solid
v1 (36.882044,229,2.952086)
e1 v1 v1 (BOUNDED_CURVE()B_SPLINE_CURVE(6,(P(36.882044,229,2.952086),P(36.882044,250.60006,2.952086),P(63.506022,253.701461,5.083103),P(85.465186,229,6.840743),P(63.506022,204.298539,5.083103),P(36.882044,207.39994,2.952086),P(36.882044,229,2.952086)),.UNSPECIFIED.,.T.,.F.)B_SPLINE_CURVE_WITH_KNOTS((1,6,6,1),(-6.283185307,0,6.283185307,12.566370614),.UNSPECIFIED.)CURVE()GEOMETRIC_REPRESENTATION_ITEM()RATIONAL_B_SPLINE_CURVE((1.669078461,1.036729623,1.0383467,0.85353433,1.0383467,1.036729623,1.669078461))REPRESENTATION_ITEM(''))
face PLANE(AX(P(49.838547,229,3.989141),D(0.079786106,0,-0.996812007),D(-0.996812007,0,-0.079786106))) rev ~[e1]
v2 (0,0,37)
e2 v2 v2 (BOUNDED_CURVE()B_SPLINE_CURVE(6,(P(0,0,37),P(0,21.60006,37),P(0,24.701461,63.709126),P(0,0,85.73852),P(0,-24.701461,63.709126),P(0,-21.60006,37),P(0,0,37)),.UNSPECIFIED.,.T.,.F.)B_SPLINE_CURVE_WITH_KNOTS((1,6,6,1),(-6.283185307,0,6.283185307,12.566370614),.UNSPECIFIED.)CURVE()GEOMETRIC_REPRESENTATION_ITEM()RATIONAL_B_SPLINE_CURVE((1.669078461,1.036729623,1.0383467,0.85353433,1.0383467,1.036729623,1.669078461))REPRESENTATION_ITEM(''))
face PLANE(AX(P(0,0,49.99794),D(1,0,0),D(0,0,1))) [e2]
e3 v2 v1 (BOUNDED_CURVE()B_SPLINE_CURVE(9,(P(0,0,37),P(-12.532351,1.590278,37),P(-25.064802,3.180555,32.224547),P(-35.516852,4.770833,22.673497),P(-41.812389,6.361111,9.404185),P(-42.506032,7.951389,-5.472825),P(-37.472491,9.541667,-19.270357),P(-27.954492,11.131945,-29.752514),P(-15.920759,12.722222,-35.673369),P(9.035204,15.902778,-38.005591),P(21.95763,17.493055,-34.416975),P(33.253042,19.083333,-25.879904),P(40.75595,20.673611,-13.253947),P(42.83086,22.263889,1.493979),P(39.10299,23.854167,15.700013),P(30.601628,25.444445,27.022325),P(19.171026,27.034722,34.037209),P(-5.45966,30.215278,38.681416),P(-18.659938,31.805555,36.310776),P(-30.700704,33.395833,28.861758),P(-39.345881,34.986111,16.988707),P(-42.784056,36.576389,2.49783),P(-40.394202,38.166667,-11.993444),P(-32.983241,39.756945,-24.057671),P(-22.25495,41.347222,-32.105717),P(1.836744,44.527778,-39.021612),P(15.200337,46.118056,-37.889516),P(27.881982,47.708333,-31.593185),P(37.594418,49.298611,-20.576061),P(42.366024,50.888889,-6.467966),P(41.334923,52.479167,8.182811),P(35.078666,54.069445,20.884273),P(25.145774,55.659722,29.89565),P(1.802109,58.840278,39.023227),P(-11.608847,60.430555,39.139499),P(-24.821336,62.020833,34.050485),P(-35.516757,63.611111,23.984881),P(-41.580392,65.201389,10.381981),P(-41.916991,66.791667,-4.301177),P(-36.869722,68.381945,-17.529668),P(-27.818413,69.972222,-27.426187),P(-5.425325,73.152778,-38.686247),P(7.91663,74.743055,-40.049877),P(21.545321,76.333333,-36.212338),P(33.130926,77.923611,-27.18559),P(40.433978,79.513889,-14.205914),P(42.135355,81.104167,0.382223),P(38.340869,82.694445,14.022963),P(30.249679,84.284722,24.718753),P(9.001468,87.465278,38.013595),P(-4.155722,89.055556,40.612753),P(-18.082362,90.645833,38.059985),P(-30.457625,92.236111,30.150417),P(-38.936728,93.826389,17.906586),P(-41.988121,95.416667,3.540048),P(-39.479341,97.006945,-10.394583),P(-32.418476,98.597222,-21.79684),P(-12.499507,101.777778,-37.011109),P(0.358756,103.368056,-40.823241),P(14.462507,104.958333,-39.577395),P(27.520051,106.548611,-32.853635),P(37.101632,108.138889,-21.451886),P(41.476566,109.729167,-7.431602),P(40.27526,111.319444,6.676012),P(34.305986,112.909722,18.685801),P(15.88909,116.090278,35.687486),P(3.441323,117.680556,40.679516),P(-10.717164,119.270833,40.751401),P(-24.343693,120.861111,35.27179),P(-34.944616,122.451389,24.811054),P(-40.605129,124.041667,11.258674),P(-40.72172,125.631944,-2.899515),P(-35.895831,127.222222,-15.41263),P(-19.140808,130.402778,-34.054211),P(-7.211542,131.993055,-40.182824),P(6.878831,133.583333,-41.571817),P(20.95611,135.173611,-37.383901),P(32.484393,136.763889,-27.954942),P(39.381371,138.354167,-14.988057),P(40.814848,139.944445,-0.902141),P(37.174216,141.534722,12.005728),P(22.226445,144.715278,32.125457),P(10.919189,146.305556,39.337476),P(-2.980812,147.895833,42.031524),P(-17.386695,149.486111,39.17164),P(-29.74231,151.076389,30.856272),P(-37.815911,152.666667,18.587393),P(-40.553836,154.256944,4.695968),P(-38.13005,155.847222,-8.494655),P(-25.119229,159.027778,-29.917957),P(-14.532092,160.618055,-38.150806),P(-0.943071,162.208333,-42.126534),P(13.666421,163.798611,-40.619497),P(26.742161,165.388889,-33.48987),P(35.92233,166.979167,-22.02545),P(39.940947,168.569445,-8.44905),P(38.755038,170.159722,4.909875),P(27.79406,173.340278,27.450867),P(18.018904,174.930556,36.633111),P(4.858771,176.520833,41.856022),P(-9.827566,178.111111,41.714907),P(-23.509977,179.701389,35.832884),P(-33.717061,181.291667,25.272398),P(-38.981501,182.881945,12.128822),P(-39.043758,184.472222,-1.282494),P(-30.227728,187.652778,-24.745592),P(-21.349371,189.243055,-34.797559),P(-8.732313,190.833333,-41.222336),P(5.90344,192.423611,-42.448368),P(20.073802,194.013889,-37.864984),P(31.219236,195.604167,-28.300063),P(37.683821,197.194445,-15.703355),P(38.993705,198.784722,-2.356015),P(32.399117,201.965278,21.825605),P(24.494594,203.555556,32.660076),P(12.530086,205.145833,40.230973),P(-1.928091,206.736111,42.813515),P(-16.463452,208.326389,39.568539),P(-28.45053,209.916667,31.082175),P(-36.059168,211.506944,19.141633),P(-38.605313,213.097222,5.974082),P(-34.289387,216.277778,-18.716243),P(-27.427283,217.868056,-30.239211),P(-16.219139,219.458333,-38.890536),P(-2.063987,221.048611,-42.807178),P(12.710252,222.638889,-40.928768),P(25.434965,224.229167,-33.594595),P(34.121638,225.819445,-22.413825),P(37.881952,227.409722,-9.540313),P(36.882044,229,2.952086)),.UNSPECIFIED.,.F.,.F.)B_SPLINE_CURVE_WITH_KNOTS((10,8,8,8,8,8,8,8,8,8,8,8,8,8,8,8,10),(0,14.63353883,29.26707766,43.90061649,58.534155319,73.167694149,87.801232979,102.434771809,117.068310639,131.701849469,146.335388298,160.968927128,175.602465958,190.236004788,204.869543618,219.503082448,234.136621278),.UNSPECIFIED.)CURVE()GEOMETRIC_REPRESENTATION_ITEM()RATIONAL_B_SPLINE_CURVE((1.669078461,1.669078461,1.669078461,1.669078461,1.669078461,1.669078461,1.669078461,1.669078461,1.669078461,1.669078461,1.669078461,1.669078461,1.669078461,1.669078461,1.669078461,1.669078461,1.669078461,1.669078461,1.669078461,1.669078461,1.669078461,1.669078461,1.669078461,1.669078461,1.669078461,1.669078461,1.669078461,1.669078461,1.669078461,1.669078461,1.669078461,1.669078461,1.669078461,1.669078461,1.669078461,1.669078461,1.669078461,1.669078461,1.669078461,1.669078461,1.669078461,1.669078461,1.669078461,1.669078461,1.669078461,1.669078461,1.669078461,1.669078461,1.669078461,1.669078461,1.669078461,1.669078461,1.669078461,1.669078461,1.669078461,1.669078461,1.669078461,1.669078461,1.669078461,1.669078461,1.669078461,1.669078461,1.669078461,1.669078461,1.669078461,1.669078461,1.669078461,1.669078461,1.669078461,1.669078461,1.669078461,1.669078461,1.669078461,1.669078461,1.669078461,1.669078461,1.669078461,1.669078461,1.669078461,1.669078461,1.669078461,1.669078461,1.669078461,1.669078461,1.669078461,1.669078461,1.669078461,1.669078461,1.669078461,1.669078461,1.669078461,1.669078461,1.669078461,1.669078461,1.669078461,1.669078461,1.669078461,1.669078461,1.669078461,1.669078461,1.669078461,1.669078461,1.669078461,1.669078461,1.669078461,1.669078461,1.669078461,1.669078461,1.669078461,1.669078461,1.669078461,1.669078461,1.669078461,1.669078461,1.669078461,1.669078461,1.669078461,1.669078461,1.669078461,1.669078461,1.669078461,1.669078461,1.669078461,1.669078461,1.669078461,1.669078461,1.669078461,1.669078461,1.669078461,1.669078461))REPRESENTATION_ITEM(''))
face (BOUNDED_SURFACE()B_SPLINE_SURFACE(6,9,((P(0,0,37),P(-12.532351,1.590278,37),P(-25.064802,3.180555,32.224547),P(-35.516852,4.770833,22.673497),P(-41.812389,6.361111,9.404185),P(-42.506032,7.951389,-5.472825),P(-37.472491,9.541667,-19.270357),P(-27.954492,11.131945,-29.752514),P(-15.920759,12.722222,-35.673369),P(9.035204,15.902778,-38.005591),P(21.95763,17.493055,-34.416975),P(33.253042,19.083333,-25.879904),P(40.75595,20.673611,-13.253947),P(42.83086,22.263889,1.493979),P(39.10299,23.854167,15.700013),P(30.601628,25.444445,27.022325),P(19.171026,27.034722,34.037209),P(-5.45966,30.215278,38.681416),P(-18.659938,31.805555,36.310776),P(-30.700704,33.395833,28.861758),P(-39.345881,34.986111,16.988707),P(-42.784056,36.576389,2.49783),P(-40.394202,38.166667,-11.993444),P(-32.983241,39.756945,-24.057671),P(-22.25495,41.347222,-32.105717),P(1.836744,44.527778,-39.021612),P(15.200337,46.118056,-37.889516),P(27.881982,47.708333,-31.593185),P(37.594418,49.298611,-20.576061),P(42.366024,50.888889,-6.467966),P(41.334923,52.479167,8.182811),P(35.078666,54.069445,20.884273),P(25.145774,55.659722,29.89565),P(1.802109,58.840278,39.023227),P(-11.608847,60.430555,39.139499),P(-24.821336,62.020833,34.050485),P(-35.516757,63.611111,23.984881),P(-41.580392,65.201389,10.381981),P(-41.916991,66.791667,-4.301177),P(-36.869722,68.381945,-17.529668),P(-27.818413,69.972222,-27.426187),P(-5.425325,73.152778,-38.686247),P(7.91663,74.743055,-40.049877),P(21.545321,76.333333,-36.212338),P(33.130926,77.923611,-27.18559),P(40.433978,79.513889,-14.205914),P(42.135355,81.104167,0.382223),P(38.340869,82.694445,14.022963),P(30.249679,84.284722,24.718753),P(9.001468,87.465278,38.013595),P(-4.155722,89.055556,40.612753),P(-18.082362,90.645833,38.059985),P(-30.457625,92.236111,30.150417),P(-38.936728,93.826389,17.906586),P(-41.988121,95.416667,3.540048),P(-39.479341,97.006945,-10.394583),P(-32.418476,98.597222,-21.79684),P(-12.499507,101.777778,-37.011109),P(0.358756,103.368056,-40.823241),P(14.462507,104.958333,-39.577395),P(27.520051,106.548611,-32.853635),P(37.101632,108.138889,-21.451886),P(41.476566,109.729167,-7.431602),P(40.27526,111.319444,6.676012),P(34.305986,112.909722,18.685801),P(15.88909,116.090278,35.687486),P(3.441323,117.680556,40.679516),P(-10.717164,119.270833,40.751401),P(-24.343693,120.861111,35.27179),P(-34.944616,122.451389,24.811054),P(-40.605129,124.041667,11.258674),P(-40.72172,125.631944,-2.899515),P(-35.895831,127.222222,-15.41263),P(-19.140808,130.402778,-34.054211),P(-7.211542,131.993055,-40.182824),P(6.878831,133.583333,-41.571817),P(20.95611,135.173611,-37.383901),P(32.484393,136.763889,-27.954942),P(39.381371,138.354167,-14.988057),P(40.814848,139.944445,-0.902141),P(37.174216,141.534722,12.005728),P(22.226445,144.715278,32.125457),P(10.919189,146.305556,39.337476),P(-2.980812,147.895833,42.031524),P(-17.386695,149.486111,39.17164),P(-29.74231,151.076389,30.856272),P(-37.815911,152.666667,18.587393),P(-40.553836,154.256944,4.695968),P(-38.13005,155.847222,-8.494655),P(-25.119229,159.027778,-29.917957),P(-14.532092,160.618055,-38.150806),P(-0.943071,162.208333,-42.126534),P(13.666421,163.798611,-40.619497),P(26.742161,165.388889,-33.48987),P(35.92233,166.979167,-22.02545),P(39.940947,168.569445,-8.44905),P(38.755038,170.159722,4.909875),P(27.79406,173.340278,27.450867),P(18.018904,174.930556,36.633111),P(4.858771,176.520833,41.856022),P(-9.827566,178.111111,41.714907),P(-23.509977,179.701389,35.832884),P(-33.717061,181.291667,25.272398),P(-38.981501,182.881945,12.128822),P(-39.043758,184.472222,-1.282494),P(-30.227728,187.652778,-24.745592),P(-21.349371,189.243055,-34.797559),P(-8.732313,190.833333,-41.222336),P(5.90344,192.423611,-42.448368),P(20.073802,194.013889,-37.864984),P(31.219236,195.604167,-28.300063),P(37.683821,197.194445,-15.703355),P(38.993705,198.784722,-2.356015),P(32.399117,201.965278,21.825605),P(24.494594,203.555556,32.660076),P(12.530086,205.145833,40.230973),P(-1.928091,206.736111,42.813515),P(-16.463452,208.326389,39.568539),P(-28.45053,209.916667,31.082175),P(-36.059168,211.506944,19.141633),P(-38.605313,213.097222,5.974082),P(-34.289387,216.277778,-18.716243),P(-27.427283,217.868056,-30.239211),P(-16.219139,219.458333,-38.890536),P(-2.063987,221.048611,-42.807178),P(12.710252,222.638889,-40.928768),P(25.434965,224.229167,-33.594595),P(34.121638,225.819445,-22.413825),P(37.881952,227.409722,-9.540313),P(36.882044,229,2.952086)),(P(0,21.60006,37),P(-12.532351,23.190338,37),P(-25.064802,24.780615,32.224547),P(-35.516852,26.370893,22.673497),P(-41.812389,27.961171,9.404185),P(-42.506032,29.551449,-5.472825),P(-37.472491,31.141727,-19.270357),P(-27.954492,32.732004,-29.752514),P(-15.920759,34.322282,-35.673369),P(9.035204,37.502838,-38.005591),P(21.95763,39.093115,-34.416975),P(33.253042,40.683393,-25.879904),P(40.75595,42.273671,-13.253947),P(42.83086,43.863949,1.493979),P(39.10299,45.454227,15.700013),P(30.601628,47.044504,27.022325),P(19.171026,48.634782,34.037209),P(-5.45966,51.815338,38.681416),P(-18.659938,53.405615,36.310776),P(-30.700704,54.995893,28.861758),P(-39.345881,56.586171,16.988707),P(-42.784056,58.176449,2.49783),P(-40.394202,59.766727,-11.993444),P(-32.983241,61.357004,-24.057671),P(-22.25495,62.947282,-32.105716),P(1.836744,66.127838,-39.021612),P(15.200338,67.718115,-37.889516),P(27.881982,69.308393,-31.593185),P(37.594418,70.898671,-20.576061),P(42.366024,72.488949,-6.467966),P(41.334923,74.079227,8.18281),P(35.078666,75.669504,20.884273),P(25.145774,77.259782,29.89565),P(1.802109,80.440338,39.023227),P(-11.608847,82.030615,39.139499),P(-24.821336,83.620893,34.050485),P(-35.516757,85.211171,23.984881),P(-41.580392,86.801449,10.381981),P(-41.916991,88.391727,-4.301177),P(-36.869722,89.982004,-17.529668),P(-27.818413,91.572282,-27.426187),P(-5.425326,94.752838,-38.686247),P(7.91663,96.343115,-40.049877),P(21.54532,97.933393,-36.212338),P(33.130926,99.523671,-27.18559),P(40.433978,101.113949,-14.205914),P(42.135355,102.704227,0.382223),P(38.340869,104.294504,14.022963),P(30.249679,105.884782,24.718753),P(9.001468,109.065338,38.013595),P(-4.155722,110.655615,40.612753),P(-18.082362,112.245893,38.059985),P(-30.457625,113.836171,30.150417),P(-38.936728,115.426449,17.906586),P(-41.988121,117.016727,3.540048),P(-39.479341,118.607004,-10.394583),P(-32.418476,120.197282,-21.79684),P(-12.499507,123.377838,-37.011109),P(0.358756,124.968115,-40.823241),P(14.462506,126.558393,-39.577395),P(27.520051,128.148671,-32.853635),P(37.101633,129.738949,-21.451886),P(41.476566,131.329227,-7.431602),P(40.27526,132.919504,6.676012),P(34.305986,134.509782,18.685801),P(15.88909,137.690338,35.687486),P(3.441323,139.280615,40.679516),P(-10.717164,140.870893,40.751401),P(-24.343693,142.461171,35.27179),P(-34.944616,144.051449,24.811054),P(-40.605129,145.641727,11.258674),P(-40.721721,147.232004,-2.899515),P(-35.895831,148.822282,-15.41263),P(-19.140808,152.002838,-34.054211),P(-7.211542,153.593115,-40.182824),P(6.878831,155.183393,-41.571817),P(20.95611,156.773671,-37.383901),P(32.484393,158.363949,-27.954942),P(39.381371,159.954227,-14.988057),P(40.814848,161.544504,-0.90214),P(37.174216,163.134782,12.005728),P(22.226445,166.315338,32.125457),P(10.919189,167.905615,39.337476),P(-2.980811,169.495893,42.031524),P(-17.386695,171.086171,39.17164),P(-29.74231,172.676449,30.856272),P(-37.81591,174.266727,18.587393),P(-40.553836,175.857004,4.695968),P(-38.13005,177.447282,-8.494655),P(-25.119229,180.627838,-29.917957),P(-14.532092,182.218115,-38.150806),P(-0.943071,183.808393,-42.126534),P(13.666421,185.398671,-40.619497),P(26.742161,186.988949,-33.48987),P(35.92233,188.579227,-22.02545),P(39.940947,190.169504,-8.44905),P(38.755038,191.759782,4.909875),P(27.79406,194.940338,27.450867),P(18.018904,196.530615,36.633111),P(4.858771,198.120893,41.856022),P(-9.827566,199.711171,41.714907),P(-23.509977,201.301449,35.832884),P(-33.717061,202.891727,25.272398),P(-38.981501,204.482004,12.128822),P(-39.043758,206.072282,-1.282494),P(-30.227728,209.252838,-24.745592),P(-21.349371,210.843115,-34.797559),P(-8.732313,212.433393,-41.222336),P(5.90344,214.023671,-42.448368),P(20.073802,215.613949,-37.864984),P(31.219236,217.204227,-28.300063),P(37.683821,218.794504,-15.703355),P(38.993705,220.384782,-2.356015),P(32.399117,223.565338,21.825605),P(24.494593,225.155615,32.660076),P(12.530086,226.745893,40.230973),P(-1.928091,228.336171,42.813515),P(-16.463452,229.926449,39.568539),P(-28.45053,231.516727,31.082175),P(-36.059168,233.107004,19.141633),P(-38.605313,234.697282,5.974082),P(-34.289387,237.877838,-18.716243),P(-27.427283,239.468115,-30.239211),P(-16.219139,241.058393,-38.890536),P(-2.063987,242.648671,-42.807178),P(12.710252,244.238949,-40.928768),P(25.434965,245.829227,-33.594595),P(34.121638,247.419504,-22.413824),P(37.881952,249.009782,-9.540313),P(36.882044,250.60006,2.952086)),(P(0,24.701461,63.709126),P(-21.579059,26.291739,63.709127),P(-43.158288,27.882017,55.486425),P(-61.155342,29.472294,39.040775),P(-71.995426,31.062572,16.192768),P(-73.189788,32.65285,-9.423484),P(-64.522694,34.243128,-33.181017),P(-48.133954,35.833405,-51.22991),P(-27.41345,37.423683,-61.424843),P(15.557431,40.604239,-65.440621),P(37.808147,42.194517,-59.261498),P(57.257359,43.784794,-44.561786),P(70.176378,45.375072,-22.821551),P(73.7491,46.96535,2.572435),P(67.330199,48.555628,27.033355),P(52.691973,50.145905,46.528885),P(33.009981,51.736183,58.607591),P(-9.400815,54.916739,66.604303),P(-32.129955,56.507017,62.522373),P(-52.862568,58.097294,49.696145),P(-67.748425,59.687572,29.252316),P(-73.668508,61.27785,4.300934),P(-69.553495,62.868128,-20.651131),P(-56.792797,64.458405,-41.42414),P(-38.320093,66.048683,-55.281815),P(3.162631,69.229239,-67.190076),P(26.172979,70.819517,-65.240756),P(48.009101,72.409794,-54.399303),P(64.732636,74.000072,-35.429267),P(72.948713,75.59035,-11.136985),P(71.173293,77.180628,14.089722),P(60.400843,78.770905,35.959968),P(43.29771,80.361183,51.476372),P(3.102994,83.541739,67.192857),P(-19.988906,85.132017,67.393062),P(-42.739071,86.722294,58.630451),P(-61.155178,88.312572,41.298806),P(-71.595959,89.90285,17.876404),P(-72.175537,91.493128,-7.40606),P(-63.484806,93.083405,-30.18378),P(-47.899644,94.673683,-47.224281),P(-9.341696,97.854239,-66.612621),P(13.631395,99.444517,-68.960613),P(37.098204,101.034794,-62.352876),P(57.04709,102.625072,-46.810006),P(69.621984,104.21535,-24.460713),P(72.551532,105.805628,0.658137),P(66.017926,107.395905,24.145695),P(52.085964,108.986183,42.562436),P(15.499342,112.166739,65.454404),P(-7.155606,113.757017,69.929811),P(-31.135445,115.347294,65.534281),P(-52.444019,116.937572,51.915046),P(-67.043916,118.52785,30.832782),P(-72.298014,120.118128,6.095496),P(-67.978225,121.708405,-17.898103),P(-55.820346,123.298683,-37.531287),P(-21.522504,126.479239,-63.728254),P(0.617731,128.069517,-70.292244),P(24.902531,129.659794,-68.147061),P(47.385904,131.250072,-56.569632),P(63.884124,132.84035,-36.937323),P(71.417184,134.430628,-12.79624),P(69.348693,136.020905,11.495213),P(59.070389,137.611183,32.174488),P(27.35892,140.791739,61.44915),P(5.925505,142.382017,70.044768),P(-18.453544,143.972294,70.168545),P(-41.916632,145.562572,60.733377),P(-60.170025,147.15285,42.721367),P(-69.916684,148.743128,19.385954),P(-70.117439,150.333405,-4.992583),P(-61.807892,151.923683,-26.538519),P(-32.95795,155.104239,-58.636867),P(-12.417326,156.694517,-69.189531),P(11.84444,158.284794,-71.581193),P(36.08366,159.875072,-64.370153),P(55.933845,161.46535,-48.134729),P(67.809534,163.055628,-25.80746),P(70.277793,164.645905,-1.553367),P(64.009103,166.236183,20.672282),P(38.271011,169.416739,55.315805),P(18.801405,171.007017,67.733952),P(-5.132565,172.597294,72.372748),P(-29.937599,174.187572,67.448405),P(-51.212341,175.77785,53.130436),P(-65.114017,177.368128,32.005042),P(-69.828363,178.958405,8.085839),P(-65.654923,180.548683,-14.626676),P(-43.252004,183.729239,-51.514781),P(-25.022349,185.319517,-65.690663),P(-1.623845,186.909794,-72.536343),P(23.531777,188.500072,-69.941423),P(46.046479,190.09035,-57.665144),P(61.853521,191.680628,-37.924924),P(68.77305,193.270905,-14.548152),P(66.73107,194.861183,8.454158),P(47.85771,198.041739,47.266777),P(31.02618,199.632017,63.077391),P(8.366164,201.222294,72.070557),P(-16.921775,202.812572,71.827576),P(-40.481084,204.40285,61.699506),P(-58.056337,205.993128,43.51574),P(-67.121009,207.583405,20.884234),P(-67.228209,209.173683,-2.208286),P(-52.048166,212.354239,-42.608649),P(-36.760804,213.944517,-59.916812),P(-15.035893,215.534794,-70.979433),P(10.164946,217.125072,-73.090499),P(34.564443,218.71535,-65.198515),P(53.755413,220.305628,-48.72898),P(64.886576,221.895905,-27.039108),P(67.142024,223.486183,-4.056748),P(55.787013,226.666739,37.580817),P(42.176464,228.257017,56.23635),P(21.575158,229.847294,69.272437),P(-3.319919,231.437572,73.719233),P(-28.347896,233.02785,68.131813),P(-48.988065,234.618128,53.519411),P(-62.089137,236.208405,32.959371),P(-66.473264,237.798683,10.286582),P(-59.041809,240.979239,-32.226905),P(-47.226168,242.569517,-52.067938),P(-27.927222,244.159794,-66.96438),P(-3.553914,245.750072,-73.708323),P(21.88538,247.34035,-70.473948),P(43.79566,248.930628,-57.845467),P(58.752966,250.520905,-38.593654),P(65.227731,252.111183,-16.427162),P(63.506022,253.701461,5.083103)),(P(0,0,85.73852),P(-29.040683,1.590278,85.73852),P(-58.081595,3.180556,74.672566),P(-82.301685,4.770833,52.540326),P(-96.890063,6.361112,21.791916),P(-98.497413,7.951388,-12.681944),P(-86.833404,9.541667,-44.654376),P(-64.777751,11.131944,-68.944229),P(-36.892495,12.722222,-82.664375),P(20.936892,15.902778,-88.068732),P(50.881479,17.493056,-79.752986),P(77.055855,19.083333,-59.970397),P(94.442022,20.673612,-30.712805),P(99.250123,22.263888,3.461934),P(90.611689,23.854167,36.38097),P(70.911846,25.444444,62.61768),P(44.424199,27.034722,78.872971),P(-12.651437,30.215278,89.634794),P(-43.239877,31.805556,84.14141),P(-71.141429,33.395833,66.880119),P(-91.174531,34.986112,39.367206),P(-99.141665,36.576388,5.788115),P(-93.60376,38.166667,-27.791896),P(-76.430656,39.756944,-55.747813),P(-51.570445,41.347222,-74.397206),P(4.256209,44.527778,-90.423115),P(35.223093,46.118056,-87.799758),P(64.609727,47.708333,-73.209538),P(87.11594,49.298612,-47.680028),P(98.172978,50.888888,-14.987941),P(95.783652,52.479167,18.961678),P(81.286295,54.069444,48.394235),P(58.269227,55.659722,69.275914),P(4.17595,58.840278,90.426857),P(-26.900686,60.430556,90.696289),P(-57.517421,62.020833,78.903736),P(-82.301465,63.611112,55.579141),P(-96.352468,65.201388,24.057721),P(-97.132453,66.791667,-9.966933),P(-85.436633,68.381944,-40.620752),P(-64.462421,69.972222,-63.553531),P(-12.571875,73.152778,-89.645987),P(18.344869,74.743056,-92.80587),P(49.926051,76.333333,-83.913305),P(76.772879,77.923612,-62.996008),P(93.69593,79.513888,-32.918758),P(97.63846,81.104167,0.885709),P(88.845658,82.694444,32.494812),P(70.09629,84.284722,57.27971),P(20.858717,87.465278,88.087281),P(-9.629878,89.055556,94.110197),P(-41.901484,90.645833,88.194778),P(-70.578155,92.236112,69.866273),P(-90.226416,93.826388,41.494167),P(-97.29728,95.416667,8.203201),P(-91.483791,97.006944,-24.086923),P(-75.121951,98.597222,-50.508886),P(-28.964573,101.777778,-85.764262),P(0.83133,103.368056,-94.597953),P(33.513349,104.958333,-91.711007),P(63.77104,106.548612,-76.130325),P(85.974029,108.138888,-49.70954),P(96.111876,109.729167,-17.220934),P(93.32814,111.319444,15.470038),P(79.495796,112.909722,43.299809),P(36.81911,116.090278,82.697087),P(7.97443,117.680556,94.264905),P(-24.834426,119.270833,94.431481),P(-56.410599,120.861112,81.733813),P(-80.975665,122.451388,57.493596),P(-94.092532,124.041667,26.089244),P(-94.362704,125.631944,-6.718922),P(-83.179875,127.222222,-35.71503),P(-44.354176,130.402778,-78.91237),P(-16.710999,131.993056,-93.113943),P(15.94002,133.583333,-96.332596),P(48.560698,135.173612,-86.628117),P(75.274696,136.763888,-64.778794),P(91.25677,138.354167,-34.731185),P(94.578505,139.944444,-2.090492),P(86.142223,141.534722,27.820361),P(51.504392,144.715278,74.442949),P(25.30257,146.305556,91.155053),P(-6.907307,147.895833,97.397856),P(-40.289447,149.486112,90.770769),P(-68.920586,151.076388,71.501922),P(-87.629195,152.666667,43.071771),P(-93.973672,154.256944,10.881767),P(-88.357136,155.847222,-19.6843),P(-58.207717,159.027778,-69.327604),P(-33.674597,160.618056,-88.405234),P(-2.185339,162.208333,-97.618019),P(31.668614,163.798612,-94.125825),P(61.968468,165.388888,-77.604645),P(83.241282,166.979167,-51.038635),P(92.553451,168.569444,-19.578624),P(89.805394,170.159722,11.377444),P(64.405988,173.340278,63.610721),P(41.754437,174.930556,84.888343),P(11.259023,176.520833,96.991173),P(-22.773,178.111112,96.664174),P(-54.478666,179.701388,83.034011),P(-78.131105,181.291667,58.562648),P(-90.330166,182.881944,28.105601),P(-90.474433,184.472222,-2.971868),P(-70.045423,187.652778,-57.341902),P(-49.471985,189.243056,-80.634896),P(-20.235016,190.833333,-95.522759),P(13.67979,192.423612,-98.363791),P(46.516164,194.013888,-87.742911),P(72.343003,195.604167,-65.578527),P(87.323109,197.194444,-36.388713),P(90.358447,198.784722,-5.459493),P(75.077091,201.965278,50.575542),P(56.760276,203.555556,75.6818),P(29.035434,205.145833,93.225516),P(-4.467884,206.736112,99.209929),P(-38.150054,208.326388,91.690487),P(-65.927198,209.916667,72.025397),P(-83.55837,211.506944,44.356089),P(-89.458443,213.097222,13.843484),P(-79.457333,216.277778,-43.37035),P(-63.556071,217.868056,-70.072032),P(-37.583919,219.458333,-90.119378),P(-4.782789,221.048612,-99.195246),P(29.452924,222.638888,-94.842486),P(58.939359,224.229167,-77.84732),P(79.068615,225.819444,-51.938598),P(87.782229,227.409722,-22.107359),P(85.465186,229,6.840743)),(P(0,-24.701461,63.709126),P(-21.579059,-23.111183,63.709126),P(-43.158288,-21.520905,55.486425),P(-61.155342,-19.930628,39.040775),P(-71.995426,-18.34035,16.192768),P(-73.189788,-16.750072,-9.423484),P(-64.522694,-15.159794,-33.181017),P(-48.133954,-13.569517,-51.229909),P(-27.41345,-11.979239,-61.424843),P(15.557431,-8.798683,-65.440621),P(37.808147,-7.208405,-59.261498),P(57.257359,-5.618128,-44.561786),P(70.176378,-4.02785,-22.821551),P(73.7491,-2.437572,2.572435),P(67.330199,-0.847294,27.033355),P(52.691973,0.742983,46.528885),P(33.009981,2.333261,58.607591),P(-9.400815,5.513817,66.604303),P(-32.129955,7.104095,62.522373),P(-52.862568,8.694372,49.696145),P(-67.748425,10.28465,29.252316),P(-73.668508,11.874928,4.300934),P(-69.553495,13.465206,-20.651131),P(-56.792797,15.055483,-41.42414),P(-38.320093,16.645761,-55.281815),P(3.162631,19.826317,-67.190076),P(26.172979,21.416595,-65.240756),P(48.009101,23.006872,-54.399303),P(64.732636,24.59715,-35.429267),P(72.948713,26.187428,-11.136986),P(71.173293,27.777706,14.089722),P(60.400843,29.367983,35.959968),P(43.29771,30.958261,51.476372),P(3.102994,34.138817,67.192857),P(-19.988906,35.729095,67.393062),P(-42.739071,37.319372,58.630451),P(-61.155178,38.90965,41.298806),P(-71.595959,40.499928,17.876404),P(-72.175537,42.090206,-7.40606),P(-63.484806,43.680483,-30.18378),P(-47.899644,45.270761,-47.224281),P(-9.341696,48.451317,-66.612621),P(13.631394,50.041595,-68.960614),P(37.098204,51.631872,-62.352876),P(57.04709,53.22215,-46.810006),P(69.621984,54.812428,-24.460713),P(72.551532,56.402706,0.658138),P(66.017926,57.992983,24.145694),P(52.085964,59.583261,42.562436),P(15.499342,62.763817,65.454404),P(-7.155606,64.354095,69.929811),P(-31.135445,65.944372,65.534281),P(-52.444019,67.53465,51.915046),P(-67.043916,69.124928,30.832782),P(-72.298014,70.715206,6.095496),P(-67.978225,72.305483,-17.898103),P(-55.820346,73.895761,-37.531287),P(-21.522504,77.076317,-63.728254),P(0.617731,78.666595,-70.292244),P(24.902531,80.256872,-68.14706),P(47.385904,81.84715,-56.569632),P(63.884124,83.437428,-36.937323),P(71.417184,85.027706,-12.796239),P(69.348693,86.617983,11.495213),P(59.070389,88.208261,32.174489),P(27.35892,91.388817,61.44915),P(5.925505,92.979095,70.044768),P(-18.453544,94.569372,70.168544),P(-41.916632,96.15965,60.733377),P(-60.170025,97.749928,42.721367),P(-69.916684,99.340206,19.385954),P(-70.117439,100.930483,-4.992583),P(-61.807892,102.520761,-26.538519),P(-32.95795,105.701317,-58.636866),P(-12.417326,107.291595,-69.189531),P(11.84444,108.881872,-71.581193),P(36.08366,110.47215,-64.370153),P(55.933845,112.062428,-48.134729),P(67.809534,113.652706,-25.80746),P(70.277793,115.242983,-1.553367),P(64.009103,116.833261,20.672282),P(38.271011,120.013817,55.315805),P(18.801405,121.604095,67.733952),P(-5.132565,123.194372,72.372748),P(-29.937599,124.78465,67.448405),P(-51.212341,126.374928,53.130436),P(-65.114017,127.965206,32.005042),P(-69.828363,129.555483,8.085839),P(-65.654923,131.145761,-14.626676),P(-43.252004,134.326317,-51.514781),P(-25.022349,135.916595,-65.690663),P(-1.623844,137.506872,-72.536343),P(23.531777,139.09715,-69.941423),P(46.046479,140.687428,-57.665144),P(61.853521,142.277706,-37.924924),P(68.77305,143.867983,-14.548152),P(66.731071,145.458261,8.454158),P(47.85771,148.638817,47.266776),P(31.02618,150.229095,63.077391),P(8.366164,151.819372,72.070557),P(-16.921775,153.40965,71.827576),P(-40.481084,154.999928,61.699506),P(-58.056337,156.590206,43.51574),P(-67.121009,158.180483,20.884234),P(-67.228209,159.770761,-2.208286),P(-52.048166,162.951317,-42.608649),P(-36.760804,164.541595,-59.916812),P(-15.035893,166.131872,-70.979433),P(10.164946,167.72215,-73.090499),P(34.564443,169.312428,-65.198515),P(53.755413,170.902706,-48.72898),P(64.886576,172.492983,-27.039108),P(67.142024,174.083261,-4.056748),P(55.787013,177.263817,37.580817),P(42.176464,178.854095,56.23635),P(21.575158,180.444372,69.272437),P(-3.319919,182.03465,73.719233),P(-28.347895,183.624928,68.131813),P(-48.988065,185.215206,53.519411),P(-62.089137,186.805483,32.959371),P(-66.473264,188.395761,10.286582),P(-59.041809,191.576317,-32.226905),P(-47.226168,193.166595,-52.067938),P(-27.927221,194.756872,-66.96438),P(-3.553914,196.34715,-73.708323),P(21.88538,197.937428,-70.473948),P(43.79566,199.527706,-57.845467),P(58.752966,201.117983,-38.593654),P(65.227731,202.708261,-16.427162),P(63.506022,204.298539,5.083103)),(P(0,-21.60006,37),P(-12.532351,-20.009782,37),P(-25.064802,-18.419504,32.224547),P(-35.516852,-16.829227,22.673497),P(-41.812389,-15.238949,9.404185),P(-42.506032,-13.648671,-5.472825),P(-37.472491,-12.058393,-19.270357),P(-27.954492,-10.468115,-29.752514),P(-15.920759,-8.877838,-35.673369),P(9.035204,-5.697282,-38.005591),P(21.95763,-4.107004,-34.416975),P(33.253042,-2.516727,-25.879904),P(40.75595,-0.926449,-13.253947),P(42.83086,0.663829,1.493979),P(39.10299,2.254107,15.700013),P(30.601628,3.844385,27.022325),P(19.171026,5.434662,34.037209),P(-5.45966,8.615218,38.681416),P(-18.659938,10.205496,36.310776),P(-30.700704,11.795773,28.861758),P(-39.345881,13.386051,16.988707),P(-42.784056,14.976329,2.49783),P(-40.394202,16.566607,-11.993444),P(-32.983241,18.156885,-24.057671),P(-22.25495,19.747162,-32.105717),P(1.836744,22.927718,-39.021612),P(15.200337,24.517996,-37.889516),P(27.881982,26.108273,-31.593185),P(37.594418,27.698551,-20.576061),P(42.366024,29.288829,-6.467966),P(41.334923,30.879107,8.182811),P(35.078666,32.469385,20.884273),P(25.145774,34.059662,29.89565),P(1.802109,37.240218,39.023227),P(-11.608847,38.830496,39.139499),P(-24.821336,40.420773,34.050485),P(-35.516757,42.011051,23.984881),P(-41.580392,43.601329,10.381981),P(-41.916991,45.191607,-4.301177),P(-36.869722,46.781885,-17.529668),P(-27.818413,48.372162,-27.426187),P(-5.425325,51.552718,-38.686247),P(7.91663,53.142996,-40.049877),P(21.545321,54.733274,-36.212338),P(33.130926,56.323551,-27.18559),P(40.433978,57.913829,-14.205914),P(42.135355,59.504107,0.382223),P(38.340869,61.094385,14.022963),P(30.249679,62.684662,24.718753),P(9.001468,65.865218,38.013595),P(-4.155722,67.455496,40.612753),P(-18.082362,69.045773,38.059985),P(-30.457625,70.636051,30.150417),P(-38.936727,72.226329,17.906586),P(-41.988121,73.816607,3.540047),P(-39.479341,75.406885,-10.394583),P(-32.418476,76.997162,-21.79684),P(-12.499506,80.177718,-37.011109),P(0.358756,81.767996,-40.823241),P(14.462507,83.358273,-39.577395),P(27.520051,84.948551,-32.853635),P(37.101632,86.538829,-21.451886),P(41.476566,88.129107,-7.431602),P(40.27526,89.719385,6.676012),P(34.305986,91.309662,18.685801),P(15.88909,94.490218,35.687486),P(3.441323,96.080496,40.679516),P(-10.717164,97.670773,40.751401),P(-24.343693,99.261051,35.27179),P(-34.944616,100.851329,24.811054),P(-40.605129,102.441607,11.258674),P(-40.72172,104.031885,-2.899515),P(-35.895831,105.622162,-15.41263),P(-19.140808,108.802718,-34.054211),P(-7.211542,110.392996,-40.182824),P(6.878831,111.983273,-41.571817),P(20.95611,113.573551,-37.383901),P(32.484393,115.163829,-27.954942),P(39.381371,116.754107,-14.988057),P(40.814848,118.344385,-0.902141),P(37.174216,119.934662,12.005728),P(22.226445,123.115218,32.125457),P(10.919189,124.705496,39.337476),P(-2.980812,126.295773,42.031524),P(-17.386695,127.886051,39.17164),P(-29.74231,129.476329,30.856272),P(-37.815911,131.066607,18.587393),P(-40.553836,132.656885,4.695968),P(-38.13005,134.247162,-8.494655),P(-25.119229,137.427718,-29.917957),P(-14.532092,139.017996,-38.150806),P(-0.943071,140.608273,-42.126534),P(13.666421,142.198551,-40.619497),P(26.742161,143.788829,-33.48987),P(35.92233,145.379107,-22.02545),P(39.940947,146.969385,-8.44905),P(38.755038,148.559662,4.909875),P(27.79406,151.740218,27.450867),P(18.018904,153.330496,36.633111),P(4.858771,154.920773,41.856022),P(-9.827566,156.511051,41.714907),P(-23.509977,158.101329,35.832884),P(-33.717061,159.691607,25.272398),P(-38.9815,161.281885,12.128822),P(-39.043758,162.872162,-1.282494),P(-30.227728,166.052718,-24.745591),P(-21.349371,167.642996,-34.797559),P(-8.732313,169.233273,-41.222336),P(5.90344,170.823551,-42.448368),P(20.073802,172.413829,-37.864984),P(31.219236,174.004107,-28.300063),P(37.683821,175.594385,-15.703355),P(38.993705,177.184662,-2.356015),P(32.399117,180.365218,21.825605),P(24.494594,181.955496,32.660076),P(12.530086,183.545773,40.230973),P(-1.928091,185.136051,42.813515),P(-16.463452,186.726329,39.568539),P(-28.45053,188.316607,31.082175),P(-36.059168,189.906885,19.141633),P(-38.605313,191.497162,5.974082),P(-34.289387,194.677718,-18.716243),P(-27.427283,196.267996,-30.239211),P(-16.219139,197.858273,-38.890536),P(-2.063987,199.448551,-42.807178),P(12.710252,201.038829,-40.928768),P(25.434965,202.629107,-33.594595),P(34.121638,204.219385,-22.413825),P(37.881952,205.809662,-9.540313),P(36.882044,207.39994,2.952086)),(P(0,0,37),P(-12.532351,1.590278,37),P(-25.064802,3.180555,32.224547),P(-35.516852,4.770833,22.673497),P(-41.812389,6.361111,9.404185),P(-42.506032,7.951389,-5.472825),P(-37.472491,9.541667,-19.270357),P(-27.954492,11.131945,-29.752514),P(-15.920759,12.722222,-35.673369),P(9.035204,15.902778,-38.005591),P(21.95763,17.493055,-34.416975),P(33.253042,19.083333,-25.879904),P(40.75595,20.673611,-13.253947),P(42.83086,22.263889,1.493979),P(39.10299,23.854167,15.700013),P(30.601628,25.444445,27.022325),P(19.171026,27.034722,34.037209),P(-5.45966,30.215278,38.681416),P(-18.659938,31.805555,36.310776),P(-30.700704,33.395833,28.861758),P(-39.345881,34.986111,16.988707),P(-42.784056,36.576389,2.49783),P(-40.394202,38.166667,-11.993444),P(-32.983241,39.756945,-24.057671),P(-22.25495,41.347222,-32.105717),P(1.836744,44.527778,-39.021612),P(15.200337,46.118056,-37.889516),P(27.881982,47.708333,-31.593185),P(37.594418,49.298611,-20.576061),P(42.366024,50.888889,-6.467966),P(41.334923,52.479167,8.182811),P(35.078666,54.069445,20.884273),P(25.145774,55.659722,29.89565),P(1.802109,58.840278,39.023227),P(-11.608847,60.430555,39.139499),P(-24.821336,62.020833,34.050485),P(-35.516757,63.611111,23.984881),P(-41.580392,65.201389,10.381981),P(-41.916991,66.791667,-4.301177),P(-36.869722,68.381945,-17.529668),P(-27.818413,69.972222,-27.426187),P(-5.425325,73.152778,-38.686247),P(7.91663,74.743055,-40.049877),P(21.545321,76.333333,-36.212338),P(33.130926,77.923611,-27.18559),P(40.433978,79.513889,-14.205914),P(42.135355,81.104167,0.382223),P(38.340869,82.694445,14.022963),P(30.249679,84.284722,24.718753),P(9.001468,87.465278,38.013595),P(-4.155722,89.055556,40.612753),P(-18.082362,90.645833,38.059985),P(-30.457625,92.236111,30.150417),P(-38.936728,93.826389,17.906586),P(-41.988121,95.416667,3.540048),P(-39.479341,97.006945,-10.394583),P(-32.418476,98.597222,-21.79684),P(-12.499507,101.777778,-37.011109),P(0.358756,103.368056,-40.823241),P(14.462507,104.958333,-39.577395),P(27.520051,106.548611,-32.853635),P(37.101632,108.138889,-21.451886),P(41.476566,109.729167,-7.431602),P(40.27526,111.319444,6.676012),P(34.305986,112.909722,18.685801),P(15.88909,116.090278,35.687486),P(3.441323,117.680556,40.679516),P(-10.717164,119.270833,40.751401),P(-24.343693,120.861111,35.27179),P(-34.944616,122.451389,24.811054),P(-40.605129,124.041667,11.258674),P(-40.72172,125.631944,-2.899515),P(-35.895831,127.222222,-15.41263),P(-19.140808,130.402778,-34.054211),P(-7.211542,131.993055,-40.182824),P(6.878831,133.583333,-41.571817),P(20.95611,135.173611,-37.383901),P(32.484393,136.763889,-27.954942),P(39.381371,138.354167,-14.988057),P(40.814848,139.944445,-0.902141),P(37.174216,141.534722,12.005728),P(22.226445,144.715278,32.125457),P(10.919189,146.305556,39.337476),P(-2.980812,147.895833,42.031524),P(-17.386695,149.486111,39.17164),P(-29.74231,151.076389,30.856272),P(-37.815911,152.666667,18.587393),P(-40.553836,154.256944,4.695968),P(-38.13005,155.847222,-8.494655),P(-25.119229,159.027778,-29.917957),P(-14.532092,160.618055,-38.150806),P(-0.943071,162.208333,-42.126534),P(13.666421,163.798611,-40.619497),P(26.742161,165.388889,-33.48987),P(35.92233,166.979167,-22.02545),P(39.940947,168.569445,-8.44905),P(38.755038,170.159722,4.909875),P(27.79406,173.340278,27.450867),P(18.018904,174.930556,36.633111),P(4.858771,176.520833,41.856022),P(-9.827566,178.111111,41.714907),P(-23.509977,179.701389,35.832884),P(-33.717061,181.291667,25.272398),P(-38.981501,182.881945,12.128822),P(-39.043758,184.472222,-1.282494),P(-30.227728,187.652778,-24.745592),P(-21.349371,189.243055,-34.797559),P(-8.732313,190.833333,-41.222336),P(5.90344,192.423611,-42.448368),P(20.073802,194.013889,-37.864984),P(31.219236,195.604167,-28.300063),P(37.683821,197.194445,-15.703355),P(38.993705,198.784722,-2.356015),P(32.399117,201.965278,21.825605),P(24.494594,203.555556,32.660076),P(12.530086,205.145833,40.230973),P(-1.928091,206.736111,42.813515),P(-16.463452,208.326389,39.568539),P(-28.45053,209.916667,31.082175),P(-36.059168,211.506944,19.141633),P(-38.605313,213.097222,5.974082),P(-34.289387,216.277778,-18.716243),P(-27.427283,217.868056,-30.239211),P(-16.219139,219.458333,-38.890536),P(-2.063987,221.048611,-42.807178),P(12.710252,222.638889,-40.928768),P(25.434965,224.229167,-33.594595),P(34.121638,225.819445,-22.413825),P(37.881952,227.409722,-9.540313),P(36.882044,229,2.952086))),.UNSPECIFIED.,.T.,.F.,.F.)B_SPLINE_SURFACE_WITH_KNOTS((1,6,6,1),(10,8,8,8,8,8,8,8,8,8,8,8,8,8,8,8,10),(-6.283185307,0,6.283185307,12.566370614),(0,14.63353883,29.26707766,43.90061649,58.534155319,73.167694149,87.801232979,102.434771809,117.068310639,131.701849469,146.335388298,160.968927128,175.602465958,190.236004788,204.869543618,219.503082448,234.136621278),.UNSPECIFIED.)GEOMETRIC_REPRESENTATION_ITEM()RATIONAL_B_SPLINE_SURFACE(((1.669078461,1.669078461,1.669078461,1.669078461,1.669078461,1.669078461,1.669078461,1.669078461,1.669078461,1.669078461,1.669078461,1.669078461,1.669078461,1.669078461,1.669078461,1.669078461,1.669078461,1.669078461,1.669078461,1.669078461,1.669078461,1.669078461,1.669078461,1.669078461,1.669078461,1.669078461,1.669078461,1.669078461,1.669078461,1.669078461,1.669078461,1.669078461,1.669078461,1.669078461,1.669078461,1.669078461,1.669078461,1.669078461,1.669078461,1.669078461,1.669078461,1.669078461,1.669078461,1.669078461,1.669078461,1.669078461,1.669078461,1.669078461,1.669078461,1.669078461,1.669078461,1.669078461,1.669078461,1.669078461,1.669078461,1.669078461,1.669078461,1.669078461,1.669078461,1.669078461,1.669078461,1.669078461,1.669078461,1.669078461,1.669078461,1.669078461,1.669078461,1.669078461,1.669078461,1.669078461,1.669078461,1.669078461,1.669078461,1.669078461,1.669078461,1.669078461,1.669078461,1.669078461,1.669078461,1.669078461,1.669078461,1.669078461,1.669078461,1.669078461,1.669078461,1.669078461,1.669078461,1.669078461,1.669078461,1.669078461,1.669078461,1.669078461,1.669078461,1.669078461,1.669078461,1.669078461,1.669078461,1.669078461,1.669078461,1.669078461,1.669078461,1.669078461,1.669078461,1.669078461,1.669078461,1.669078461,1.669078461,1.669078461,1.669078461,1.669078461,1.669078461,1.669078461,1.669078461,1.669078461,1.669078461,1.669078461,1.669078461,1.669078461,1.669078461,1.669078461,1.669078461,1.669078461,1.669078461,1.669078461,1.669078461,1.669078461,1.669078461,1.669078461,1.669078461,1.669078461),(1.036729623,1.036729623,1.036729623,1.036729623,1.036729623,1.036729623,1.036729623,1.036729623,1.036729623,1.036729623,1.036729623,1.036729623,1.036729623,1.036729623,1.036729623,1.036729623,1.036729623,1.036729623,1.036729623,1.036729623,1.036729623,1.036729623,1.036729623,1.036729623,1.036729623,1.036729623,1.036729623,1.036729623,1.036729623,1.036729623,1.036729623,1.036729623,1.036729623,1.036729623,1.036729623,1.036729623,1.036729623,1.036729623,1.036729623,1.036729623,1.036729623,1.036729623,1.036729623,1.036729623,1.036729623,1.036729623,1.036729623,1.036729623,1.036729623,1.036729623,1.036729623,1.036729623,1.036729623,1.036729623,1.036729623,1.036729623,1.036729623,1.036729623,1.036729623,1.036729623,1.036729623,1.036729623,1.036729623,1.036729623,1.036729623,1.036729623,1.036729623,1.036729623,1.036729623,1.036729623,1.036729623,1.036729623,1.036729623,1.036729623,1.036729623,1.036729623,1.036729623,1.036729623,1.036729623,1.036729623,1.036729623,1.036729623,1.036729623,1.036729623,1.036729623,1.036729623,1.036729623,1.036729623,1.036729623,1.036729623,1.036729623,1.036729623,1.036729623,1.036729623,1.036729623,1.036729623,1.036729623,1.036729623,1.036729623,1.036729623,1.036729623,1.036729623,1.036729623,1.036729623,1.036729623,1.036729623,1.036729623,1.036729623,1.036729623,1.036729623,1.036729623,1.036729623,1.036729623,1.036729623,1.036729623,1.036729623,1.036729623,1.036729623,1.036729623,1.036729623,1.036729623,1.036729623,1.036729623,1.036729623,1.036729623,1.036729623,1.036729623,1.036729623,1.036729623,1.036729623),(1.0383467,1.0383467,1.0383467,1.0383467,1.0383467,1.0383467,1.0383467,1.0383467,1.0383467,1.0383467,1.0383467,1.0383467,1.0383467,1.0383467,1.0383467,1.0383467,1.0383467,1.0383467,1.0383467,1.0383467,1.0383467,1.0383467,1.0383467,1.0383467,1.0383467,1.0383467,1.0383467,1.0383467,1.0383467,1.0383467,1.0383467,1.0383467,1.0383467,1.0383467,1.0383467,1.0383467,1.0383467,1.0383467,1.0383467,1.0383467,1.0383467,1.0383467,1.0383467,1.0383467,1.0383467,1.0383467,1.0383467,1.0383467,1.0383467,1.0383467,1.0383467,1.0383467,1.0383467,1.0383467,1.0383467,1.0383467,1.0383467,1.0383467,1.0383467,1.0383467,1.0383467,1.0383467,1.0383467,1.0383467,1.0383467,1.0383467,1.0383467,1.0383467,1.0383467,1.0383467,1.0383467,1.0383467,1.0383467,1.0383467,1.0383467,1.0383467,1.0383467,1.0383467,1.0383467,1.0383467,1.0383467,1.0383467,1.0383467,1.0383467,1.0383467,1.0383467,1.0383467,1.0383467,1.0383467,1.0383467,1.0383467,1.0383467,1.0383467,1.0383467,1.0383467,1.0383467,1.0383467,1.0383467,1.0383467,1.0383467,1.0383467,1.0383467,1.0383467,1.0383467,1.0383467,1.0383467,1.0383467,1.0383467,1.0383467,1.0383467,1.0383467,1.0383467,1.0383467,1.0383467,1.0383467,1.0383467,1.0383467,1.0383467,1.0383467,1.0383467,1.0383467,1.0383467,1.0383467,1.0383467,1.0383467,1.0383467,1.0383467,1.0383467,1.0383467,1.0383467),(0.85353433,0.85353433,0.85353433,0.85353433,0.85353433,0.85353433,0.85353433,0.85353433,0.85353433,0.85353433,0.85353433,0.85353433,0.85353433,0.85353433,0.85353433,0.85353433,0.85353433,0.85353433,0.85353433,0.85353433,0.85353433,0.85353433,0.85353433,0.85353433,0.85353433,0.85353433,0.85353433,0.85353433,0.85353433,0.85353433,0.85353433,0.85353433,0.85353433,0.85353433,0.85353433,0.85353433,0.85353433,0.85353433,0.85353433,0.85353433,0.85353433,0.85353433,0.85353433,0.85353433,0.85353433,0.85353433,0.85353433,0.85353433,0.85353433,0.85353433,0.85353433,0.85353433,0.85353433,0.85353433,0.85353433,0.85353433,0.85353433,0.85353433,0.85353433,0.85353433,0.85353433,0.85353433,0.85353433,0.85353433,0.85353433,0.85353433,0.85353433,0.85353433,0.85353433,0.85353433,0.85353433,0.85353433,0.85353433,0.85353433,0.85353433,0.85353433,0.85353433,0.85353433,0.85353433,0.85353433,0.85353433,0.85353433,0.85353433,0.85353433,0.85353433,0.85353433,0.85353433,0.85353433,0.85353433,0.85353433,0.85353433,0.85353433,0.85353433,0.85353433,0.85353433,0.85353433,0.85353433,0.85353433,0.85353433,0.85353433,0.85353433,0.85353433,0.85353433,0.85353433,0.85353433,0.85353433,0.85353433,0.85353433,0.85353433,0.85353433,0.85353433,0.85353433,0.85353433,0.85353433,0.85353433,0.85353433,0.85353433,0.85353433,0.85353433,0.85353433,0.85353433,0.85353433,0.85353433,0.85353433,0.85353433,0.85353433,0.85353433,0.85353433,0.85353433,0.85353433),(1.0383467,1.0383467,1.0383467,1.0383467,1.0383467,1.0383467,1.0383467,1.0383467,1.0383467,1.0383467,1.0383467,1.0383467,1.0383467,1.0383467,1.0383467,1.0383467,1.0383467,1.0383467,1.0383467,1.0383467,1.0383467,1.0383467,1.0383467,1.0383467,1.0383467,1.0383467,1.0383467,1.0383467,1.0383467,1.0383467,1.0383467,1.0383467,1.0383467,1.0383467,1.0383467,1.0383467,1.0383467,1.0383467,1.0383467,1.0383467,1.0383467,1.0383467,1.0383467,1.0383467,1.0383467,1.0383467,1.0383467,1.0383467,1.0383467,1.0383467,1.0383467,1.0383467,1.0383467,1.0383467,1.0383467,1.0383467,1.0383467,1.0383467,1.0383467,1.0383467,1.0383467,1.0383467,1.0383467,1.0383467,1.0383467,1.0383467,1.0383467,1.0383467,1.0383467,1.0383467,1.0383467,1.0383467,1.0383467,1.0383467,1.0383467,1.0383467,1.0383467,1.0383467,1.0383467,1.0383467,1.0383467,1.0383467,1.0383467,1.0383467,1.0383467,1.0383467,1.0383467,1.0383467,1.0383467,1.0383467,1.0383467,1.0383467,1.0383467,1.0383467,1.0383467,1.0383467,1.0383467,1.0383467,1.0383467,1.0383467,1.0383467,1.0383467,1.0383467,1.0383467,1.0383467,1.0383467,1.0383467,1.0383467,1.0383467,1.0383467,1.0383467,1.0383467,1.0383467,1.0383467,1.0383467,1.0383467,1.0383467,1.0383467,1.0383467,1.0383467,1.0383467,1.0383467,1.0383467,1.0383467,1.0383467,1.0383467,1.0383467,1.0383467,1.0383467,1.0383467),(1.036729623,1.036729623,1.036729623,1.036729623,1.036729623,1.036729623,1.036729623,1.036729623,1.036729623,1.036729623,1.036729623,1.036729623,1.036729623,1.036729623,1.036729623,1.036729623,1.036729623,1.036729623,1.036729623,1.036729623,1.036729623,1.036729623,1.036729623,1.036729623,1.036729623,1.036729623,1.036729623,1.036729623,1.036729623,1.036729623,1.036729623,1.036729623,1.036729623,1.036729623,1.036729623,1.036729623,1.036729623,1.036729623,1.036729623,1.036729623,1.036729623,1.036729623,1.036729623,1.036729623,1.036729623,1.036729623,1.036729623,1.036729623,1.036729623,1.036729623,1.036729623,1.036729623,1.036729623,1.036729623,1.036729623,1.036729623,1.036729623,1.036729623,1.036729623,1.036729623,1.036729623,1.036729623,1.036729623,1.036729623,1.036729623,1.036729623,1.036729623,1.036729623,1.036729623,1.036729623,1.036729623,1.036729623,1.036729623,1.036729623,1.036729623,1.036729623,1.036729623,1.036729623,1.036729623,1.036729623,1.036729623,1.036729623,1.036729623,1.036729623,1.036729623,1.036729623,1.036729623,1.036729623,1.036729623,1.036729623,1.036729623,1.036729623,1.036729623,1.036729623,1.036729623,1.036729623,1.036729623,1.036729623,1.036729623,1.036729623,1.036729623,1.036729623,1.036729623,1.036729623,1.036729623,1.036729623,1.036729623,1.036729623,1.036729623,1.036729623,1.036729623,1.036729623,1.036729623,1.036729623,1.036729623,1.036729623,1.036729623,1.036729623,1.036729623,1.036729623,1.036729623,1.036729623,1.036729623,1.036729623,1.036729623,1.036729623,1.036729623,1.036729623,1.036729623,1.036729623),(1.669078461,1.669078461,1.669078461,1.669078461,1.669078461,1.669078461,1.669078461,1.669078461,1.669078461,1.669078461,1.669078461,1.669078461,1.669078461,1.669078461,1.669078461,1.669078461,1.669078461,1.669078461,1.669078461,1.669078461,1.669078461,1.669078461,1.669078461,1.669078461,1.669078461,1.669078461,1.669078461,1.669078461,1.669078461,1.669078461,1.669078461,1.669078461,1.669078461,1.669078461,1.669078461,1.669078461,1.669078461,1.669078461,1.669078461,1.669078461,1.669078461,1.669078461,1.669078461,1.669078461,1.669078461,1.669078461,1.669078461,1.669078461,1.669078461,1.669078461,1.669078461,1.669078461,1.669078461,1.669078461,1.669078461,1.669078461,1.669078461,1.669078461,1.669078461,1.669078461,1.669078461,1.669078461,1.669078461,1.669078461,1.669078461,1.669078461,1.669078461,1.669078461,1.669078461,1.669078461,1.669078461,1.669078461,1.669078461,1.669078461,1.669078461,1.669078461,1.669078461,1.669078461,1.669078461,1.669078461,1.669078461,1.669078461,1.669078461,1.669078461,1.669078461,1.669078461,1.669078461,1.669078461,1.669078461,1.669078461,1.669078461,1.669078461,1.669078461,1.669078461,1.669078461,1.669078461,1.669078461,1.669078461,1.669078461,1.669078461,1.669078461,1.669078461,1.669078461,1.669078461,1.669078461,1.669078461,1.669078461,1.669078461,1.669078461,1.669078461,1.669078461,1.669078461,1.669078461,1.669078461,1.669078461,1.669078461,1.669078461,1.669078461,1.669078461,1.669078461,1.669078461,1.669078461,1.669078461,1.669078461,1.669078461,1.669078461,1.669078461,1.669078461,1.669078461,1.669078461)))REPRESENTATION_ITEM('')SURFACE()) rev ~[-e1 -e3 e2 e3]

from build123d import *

# Parameters (mm, degrees)
AUSTRAGUNG2_PITCH  = 29.5
AUSTRAGUNG2_HEIGHT = 229
AUSTRAGUNG2_RADIUS = 50
SKIZZE5_R          = 13


with BuildPart() as part:
    # Austragung2: sweep along a helix
    with BuildLine() as austragung2_path:
        Helix(AUSTRAGUNG2_PITCH, AUSTRAGUNG2_HEIGHT, AUSTRAGUNG2_RADIUS, center=(0, 0, 0), direction=(0, 1, 0), lefthand=True)
    # Skizze5 → Austragung2 (sweep)
    with BuildSketch(Plane(origin=(0, 0, 0), x_dir=(0, 0, -1), z_dir=(1, 0, 0))):
        with Locations((-50, 0)):
            Circle(SKIZZE5_R)
    sweep(path=austragung2_path.line, is_frenet=True)


solid = part.part
